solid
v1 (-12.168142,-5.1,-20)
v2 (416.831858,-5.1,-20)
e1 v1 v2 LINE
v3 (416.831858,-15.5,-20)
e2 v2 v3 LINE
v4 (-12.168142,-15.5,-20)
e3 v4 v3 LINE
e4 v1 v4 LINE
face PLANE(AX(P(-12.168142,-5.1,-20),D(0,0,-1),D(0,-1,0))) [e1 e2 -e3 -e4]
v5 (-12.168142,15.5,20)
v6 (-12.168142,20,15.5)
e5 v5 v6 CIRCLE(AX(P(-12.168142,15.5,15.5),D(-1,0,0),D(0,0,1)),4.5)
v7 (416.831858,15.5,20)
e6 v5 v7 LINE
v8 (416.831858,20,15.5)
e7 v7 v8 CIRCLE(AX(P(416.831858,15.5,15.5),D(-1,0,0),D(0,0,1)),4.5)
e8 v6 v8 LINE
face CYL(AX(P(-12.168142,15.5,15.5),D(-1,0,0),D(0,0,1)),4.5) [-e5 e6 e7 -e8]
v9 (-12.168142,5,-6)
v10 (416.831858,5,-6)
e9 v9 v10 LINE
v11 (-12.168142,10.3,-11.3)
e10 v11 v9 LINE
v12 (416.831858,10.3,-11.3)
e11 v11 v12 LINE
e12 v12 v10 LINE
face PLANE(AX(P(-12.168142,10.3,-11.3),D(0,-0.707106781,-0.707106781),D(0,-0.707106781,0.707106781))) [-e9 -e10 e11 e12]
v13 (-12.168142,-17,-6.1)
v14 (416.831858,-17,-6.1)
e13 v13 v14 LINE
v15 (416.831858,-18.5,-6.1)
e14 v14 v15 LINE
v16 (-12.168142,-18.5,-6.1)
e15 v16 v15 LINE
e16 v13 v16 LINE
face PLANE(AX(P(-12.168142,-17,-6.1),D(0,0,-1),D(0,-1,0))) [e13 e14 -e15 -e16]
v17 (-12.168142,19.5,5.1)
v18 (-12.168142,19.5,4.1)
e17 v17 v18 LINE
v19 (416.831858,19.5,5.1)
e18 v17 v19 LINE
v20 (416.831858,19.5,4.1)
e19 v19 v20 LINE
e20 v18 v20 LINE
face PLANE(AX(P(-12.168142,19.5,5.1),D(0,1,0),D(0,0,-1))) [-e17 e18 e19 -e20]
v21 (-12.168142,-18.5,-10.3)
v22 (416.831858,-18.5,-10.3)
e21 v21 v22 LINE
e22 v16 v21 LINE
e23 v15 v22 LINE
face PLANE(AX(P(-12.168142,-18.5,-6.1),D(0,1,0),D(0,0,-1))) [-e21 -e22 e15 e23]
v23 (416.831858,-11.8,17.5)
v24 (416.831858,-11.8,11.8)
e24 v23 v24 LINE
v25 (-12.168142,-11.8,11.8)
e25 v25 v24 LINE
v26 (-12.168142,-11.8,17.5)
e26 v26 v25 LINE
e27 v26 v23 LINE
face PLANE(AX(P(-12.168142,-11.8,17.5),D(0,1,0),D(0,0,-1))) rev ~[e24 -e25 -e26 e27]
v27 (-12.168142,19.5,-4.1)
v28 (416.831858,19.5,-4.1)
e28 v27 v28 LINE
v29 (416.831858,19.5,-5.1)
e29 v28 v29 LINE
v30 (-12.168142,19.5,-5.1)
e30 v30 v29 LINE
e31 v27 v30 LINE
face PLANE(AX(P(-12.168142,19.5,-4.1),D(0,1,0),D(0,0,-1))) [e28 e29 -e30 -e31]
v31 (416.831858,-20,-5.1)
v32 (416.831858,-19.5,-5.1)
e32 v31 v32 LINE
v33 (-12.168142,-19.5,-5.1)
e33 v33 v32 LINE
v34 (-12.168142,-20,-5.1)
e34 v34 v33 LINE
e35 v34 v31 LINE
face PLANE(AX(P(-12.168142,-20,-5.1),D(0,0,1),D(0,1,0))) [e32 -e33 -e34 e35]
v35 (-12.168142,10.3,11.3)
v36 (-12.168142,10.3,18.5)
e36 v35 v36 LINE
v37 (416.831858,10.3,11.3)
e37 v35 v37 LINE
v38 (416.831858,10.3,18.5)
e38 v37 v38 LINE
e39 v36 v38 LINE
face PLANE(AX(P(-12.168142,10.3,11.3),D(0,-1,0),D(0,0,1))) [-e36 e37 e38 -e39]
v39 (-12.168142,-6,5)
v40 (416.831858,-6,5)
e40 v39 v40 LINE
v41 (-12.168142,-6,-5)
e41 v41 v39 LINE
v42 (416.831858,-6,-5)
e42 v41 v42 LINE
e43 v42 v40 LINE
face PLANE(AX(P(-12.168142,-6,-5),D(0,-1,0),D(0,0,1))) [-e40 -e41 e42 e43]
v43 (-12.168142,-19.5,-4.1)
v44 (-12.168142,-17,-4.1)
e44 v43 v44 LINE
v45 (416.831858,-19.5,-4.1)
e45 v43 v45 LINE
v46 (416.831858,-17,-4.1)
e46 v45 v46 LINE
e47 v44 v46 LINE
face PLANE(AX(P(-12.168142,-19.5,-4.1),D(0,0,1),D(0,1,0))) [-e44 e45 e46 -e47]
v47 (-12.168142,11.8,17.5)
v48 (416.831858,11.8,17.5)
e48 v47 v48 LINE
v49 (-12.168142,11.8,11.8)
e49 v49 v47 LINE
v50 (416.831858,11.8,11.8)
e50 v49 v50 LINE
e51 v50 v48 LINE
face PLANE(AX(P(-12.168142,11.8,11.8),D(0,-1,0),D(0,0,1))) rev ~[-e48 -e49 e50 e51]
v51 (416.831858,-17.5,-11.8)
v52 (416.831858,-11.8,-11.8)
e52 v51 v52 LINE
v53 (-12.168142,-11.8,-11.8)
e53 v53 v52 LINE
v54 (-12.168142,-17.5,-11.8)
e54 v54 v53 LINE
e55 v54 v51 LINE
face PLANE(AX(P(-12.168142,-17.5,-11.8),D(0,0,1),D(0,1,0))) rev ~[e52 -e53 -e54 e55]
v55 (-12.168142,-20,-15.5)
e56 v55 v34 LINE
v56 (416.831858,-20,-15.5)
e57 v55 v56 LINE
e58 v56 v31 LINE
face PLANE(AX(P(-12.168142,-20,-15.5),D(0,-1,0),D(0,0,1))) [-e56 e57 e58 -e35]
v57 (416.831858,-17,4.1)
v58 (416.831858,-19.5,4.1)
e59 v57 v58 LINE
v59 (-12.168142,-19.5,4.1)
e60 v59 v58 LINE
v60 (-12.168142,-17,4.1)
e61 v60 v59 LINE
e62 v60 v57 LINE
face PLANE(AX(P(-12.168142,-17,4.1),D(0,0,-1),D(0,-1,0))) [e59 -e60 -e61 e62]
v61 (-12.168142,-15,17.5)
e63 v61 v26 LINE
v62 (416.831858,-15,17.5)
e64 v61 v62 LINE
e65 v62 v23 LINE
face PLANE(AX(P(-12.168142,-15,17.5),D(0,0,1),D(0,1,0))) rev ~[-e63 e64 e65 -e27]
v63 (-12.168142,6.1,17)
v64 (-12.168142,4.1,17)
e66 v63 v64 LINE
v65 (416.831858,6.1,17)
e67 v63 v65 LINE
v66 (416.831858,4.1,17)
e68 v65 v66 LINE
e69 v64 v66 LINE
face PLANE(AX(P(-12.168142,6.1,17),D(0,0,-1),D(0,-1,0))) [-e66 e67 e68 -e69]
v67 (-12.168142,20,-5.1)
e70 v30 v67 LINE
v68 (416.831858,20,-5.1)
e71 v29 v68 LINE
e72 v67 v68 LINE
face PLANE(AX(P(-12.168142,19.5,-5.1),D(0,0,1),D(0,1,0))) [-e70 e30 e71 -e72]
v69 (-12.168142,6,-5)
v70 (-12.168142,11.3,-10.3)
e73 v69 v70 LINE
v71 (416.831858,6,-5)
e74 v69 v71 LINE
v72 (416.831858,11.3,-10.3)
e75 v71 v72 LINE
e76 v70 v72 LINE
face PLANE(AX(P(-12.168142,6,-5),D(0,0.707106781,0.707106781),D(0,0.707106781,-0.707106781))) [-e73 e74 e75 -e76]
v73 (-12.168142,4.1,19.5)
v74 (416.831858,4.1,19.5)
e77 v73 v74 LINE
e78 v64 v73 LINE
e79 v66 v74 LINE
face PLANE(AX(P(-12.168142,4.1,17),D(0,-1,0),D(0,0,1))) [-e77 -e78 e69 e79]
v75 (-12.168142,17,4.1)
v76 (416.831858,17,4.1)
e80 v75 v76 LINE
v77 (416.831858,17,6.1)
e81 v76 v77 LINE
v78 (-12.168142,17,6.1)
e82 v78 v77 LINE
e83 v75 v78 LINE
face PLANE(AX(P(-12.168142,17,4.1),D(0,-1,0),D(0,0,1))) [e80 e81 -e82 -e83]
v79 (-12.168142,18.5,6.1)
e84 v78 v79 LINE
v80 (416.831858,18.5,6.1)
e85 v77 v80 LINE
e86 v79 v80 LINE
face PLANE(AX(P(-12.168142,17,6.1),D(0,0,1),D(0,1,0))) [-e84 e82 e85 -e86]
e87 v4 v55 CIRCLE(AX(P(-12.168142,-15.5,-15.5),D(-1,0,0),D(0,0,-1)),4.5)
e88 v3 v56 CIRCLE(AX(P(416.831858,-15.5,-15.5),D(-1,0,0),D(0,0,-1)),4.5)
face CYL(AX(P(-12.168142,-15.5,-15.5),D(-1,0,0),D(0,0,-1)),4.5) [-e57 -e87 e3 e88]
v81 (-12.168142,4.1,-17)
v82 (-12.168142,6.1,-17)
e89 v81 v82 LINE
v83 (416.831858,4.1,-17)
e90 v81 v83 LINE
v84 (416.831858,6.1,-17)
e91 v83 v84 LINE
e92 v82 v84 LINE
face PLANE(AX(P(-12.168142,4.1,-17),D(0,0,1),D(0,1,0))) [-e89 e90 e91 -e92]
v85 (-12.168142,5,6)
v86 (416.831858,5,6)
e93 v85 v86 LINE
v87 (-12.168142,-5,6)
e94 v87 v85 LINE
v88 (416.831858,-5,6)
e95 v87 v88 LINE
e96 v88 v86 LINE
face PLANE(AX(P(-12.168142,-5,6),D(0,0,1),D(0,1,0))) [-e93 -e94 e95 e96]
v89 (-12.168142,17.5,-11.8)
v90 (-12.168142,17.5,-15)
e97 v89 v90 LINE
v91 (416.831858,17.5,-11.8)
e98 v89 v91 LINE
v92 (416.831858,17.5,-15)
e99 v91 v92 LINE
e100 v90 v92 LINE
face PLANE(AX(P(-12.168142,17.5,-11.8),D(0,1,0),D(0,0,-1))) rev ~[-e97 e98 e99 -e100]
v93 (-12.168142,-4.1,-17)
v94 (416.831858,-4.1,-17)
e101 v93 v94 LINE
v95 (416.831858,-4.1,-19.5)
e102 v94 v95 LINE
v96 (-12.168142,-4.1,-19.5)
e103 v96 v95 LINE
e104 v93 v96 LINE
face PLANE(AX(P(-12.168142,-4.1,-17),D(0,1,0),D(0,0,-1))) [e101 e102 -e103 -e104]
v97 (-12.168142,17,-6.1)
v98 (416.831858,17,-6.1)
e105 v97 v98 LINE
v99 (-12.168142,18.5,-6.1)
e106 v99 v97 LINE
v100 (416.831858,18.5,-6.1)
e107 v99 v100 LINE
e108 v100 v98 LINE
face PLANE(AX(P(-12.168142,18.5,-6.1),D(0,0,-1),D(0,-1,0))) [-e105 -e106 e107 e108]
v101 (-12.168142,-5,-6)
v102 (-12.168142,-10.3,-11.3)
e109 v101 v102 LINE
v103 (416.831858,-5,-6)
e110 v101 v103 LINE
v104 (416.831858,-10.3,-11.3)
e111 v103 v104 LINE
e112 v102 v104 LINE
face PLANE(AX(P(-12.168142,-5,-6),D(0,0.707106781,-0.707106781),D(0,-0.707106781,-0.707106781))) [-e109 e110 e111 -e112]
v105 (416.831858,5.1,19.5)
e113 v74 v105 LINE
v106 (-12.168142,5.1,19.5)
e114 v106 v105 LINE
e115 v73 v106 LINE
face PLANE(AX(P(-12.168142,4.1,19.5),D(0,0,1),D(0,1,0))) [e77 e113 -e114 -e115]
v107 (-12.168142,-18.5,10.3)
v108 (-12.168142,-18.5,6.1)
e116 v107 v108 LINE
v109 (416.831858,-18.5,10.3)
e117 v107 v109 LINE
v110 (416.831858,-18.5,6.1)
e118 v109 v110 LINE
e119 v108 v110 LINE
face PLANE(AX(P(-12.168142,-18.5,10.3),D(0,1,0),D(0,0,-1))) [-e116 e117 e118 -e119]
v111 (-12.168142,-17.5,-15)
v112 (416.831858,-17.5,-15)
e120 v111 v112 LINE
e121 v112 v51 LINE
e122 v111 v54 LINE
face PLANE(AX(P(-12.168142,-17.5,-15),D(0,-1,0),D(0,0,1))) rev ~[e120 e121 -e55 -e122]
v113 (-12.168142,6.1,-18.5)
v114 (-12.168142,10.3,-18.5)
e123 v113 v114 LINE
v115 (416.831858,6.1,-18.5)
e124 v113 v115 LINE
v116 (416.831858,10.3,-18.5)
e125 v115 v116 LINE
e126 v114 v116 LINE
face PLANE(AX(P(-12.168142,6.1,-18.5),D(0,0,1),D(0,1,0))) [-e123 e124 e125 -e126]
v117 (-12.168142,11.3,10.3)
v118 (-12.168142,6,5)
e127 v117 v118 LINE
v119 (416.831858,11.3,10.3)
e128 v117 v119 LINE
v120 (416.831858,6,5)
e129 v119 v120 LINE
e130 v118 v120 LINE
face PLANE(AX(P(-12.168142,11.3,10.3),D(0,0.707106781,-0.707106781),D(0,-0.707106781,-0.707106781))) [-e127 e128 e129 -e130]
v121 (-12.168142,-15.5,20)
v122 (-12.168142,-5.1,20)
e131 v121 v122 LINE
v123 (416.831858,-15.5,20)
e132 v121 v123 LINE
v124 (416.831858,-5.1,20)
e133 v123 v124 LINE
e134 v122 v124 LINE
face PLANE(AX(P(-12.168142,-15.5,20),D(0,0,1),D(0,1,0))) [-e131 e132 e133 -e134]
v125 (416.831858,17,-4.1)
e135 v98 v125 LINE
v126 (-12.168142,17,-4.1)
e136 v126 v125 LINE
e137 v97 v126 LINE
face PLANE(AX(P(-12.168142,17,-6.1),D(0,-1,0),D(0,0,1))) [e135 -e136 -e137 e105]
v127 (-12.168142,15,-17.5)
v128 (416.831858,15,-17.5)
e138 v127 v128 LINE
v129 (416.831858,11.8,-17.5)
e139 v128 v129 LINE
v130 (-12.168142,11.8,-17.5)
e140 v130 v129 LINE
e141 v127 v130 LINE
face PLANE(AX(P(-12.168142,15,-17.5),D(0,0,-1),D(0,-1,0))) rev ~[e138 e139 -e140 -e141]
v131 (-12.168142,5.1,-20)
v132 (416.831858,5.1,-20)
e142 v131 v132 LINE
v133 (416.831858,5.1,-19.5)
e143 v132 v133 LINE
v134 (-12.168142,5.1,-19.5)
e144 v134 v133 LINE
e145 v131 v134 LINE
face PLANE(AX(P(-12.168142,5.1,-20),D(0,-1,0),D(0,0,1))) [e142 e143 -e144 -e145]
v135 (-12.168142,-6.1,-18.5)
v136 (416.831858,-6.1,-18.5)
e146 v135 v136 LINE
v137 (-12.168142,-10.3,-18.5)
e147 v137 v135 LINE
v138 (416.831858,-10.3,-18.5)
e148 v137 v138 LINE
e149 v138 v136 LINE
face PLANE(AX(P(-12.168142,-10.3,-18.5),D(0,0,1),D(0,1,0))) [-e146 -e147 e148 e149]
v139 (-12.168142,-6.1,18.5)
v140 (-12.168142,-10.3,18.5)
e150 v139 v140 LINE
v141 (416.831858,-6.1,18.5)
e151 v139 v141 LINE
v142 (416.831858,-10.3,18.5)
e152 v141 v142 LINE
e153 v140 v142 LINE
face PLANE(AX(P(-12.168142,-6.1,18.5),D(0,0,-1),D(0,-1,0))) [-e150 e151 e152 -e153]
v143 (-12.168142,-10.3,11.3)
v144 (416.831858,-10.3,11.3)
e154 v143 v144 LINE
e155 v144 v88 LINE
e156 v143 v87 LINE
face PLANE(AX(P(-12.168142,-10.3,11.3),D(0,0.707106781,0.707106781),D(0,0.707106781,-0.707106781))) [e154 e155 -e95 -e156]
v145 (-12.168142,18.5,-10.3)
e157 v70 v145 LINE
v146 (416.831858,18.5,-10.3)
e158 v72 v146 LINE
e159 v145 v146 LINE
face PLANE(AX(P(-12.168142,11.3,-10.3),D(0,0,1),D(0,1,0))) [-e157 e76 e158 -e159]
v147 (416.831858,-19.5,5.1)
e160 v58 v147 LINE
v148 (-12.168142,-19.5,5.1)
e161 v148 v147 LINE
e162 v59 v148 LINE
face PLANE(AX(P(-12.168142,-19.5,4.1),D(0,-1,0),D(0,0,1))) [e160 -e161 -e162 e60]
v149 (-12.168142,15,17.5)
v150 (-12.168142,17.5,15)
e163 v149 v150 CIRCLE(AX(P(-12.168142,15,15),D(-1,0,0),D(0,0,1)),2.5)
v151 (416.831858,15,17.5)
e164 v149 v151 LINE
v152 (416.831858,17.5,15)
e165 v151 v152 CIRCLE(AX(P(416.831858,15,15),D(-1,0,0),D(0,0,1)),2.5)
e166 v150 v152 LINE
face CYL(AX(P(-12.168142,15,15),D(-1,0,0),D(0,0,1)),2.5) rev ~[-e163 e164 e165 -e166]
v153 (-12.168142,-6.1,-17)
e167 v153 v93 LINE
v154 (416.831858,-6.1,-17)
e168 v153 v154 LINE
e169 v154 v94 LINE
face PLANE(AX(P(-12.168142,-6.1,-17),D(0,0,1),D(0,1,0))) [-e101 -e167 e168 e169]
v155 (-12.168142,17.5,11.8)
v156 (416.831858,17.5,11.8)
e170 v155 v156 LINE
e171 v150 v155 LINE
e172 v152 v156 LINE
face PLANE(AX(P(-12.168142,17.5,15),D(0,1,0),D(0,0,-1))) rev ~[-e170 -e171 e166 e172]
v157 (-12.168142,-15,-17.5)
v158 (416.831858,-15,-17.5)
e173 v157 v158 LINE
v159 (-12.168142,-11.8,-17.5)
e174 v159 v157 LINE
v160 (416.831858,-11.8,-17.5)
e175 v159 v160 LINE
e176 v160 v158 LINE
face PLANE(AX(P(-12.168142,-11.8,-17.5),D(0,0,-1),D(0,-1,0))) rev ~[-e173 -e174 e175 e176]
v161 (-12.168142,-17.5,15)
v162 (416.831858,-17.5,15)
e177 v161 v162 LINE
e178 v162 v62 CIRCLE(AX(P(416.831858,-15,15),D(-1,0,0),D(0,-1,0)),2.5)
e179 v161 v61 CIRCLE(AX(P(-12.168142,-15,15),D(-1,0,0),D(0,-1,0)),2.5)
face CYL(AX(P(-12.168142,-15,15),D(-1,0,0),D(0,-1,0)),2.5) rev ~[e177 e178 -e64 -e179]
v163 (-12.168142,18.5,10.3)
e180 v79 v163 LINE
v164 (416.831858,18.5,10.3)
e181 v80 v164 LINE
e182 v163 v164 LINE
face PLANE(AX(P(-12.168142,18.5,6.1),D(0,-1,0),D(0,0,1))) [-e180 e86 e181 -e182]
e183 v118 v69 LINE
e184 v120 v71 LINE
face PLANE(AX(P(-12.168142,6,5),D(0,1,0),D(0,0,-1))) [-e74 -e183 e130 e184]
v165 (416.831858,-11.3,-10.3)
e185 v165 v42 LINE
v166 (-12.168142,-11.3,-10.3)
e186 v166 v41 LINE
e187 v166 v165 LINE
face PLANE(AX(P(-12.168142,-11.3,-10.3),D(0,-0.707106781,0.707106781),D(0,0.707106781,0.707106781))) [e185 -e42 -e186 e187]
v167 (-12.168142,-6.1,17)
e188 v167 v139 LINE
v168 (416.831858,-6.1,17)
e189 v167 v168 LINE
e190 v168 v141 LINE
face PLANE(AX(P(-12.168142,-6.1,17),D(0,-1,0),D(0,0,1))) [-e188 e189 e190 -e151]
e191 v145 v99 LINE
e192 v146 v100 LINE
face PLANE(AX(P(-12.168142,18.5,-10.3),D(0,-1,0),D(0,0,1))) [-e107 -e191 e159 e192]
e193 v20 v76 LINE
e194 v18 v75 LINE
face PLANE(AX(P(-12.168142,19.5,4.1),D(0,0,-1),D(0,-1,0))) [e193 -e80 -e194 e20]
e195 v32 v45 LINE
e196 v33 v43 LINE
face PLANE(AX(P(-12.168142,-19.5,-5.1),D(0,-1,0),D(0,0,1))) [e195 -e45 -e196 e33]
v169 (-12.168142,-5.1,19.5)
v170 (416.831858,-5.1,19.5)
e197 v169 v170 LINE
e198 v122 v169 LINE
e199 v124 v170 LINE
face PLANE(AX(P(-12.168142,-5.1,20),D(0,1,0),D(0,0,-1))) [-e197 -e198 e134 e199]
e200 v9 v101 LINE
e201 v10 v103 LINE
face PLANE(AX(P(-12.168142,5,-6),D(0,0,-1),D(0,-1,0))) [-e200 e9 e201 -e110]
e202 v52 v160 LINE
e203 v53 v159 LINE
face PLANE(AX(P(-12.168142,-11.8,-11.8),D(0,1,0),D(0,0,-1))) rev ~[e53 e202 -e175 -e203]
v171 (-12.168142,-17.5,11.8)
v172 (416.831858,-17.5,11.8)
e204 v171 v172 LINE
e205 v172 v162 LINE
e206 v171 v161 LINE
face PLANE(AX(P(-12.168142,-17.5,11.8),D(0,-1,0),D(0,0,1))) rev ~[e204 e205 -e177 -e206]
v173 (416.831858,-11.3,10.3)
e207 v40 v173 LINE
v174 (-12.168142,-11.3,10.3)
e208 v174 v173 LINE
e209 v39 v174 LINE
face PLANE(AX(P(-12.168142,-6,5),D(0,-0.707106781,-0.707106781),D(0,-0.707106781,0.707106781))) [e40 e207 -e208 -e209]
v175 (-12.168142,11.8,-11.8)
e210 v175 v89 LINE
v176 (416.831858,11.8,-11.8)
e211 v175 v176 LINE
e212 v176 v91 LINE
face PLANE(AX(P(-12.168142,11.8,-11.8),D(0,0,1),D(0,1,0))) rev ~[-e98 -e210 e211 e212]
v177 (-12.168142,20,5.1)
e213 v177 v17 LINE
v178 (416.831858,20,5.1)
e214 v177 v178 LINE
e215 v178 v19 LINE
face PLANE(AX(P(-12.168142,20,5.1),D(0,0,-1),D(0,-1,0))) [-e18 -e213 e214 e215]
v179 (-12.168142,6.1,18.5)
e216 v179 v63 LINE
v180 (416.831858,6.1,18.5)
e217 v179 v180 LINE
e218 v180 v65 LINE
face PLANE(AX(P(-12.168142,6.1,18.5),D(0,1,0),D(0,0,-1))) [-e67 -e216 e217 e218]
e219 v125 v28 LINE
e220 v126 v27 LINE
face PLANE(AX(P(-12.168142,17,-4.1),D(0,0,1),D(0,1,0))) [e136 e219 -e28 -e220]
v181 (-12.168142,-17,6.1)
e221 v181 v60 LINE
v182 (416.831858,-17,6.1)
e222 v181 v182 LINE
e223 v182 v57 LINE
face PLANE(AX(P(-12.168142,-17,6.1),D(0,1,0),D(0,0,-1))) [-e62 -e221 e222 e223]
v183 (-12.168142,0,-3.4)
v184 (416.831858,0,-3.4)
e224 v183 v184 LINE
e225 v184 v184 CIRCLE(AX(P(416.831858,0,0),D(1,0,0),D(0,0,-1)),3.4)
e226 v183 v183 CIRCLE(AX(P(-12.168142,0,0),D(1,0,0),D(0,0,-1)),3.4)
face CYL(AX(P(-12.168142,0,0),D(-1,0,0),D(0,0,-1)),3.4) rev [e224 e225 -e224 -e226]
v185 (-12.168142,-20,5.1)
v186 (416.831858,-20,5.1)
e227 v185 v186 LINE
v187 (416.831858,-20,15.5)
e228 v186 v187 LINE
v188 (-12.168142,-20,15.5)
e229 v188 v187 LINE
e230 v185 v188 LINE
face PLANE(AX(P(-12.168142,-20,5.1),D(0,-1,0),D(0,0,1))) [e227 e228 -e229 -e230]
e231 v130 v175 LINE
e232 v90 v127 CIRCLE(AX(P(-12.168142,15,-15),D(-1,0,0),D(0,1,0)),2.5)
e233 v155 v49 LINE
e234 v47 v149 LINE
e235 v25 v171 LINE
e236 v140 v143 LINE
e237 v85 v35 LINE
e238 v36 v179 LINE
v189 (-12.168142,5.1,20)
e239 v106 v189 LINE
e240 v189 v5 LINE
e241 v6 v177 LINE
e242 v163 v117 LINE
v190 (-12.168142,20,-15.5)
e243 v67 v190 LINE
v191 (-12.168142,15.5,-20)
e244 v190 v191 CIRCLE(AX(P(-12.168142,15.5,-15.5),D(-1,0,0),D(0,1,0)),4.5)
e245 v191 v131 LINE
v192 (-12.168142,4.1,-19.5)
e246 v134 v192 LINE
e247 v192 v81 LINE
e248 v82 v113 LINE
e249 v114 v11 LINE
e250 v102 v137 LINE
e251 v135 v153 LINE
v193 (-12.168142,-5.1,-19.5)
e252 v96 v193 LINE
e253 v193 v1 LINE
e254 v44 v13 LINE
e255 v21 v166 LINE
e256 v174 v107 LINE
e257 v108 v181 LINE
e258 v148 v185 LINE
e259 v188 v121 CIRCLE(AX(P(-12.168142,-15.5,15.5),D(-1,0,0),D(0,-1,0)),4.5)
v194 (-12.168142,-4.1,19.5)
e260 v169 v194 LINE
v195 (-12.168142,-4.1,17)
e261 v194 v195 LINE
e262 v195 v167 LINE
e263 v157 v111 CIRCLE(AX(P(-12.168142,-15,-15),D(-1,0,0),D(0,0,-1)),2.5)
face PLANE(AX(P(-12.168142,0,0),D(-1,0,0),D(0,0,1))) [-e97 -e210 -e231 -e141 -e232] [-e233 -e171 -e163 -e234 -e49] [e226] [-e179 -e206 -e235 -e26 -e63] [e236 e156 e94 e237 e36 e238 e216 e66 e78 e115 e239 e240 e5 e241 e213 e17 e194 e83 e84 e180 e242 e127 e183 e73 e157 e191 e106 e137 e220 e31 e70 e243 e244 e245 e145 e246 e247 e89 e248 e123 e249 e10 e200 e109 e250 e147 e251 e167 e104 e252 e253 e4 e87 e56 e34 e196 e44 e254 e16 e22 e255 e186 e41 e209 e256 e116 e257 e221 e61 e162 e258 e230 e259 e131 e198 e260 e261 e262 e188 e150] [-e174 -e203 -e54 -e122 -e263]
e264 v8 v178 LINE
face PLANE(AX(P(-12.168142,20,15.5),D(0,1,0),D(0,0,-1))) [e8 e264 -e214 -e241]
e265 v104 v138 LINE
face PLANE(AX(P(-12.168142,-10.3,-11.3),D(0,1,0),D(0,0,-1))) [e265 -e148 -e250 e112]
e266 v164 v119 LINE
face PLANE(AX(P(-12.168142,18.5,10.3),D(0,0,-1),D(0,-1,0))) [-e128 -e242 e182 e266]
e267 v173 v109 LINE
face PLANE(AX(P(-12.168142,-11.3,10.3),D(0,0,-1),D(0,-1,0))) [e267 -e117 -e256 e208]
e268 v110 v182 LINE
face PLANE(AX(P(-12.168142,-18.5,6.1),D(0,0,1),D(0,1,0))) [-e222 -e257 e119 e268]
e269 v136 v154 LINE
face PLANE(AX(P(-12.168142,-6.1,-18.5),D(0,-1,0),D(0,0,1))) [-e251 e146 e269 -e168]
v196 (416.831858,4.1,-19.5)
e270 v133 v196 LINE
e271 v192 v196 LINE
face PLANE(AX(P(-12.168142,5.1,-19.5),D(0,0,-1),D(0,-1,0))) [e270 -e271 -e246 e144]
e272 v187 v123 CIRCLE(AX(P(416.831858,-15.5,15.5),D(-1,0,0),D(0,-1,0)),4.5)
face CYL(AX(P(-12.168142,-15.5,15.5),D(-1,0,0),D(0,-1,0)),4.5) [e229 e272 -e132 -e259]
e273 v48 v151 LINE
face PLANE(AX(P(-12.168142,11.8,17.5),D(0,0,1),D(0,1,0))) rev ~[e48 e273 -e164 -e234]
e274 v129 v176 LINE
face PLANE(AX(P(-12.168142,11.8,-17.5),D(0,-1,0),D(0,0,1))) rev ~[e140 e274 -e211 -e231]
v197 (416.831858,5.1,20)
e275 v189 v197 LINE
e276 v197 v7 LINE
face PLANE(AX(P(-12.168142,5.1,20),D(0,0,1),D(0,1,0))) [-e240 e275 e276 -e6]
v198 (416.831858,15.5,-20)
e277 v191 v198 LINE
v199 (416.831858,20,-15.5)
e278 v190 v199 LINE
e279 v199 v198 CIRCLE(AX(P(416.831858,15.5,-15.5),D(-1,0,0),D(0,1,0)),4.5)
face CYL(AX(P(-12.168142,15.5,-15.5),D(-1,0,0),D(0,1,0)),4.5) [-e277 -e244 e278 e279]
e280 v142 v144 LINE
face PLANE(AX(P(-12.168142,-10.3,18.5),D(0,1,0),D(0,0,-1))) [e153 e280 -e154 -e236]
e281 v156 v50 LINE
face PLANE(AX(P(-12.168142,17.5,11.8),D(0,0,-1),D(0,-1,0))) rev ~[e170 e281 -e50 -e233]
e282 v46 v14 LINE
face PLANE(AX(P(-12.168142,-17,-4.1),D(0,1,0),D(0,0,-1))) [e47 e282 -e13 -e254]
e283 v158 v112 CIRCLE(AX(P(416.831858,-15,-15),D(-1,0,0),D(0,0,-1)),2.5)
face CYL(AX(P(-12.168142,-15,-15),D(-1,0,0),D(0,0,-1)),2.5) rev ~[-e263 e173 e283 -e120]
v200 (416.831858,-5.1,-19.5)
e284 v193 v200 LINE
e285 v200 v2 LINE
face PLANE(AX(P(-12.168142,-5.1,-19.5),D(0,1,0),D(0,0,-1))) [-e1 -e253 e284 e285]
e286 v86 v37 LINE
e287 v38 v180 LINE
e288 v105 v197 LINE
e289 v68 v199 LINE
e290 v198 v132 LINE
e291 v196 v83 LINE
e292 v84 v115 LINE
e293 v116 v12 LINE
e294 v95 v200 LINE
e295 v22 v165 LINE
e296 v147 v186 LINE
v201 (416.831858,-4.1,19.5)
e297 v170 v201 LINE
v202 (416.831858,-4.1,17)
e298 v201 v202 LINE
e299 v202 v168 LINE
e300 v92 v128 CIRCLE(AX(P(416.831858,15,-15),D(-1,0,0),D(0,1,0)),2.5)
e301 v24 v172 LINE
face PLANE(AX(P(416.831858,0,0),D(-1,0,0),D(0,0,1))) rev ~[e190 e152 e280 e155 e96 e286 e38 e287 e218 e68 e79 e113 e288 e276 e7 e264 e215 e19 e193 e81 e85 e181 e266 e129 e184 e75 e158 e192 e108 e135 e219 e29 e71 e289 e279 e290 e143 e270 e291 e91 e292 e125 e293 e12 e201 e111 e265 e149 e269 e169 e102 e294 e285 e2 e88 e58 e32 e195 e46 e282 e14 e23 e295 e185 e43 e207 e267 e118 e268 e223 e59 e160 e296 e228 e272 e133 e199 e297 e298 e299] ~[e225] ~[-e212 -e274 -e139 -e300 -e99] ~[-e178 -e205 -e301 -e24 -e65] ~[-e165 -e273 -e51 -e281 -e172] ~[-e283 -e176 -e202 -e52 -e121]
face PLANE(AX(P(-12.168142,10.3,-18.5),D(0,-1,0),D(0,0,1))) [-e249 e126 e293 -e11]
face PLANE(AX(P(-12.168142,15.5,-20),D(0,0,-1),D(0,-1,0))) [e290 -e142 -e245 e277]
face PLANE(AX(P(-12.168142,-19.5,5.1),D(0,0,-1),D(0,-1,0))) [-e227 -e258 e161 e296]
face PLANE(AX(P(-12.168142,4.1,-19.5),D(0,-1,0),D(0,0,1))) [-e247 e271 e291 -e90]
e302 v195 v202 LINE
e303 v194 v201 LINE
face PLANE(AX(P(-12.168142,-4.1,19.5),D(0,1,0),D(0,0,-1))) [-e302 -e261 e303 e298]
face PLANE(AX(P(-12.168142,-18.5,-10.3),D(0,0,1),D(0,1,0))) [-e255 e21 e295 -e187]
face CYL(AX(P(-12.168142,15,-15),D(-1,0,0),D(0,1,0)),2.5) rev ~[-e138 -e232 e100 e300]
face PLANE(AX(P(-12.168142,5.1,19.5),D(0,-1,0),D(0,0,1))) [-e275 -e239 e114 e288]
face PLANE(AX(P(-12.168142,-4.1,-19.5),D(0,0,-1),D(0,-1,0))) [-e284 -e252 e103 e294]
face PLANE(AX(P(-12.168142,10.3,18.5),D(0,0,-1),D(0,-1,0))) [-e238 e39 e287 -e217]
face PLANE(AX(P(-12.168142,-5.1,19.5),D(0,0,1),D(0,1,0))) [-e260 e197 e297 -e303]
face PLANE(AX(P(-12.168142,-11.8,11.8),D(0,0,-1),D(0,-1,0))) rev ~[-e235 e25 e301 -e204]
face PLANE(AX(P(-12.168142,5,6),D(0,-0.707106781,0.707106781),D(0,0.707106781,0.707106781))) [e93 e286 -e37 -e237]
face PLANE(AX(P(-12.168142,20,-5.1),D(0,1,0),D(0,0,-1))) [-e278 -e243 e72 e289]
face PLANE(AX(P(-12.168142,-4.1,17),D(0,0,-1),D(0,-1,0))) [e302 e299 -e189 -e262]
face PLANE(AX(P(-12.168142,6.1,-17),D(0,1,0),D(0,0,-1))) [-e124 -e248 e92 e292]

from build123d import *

# Parameters (mm, degrees)
SKETCH1_R                 = 3.4
F_40_X_40L_X_R4_5_1_DEPTH = 429


with BuildPart() as part:
    # Sketch1 → 铝型材 40 X 40L X R4.5(1) (new body)
    with BuildSketch(Plane(origin=(-12.168141593, 0, 0), x_dir=(0, 0, -1), z_dir=(1, 0, 0))):
        with BuildLine():
            Line((-5.1, 20), (-5.1, 19.5))
            Line((-5.1, 19.5), (-4.1, 19.5))
            Line((-4.1, 19.5), (-4.1, 17))
            Line((-4.1, 17), (-6.1, 17))
            Line((-6.1, 17), (-6.1, 18.5))
            Line((-6.1, 18.5), (-10.3, 18.5))
            Line((-10.3, 18.5), (-10.3, 11.3))
            Line((-10.3, 11.3), (-5, 6))
            Line((-5, 6), (5, 6))
            Line((5, 6), (10.3, 11.3))
            Line((10.3, 11.3), (10.3, 18.5))
            Line((10.3, 18.5), (6.1, 18.5))
            Line((6.1, 18.5), (6.1, 17))
            Line((6.1, 17), (4.1, 17))
            Line((4.1, 17), (4.1, 19.5))
            Line((4.1, 19.5), (5.1, 19.5))
            Line((5.1, 19.5), (5.1, 20))
            Line((5.1, 20), (15.5, 20))
            ThreePointArc((15.5, 20), (18.681980515, 18.681980515), (20, 15.5))
            Line((20, 15.5), (20, 5.1))
            Line((20, 5.1), (19.5, 5.1))
            Line((19.5, 5.1), (19.5, 4.1))
            Line((19.5, 4.1), (17, 4.1))
            Line((17, 4.1), (17, 6.1))
            Line((17, 6.1), (18.5, 6.1))
            Line((18.5, 6.1), (18.5, 10.3))
            Line((18.5, 10.3), (11.3, 10.3))
            Line((11.3, 10.3), (6, 5))
            Line((6, 5), (6, -5))
            Line((6, -5), (11.3, -10.3))
            Line((11.3, -10.3), (18.5, -10.3))
            Line((18.5, -10.3), (18.5, -6.1))
            Line((18.5, -6.1), (17, -6.1))
            Line((17, -6.1), (17, -4.1))
            Line((17, -4.1), (19.5, -4.1))
            Line((19.5, -4.1), (19.5, -5.1))
            Line((19.5, -5.1), (20, -5.1))
            Line((20, -5.1), (20, -15.5))
            ThreePointArc((20, -15.5), (18.681980515, -18.681980515), (15.5, -20))
            Line((15.5, -20), (5.1, -20))
            Line((5.1, -20), (5.1, -19.5))
            Line((5.1, -19.5), (4.1, -19.5))
            Line((4.1, -19.5), (4.1, -17))
            Line((4.1, -17), (6.1, -17))
            Line((6.1, -17), (6.1, -18.5))
            Line((6.1, -18.5), (10.3, -18.5))
            Line((10.3, -18.5), (10.3, -11.3))
            Line((10.3, -11.3), (5, -6))
            Line((5, -6), (-5, -6))
            Line((-5, -6), (-10.3, -11.3))
            Line((-10.3, -11.3), (-10.3, -18.5))
            Line((-10.3, -18.5), (-6.1, -18.5))
            Line((-6.1, -18.5), (-6.1, -17))
            Line((-6.1, -17), (-4.1, -17))
            Line((-4.1, -17), (-4.1, -19.5))
            Line((-4.1, -19.5), (-5.1, -19.5))
            Line((-5.1, -19.5), (-5.1, -20))
            Line((-5.1, -20), (-15.5, -20))
            ThreePointArc((-15.5, -20), (-18.681980515, -18.681980515), (-20, -15.5))
            Line((-20, -15.5), (-20, -5.1))
            Line((-20, -5.1), (-19.5, -5.1))
            Line((-19.5, -5.1), (-19.5, -4.1))
            Line((-19.5, -4.1), (-17, -4.1))
            Line((-17, -4.1), (-17, -6.1))
            Line((-17, -6.1), (-18.5, -6.1))
            Line((-18.5, -6.1), (-18.5, -10.3))
            Line((-18.5, -10.3), (-11.3, -10.3))
            Line((-11.3, -10.3), (-6, -5))
            Line((-6, -5), (-6, 5))
            Line((-6, 5), (-11.3, 10.3))
            Line((-11.3, 10.3), (-18.5, 10.3))
            Line((-18.5, 10.3), (-18.5, 6.1))
            Line((-18.5, 6.1), (-17, 6.1))
            Line((-17, 6.1), (-17, 4.1))
            Line((-17, 4.1), (-19.5, 4.1))
            Line((-19.5, 4.1), (-19.5, 5.1))
            Line((-19.5, 5.1), (-20, 5.1))
            Line((-20, 5.1), (-20, 15.5))
            ThreePointArc((-20, 15.5), (-18.681980515, 18.681980515), (-15.5, 20))
            Line((-15.5, 20), (-5.1, 20))
        make_face()
        Circle(SKETCH1_R, mode=Mode.SUBTRACT)
        with BuildLine():
            Line((11.8, 17.5), (15, 17.5))
            ThreePointArc((15, 17.5), (16.767766953, 16.767766953), (17.5, 15))
            Line((17.5, 15), (17.5, 11.8))
            Line((17.5, 11.8), (11.8, 11.8))
            Line((11.8, 11.8), (11.8, 17.5))
        make_face(mode=Mode.SUBTRACT)
        with BuildLine():
            Line((-15, 17.5), (-11.8, 17.5))
            Line((-11.8, 17.5), (-11.8, 11.8))
            Line((-11.8, 11.8), (-17.5, 11.8))
            Line((-17.5, 11.8), (-17.5, 15))
            ThreePointArc((-17.5, 15), (-16.767766953, 16.767766953), (-15, 17.5))
        make_face(mode=Mode.SUBTRACT)
        with BuildLine():
            Line((-17.5, -11.8), (-11.8, -11.8))
            Line((-11.8, -11.8), (-11.8, -17.5))
            Line((-11.8, -17.5), (-15, -17.5))
            ThreePointArc((-15, -17.5), (-16.767766953, -16.767766953), (-17.5, -15))
            Line((-17.5, -15), (-17.5, -11.8))
        make_face(mode=Mode.SUBTRACT)
        with BuildLine():
            Line((11.8, -11.8), (17.5, -11.8))
            Line((17.5, -11.8), (17.5, -15))
            ThreePointArc((17.5, -15), (16.767766953, -16.767766953), (15, -17.5))
            Line((15, -17.5), (11.8, -17.5))
            Line((11.8, -17.5), (11.8, -11.8))
        make_face(mode=Mode.SUBTRACT)
    extrude(amount=F_40_X_40L_X_R4_5_1_DEPTH)


solid = part.part
